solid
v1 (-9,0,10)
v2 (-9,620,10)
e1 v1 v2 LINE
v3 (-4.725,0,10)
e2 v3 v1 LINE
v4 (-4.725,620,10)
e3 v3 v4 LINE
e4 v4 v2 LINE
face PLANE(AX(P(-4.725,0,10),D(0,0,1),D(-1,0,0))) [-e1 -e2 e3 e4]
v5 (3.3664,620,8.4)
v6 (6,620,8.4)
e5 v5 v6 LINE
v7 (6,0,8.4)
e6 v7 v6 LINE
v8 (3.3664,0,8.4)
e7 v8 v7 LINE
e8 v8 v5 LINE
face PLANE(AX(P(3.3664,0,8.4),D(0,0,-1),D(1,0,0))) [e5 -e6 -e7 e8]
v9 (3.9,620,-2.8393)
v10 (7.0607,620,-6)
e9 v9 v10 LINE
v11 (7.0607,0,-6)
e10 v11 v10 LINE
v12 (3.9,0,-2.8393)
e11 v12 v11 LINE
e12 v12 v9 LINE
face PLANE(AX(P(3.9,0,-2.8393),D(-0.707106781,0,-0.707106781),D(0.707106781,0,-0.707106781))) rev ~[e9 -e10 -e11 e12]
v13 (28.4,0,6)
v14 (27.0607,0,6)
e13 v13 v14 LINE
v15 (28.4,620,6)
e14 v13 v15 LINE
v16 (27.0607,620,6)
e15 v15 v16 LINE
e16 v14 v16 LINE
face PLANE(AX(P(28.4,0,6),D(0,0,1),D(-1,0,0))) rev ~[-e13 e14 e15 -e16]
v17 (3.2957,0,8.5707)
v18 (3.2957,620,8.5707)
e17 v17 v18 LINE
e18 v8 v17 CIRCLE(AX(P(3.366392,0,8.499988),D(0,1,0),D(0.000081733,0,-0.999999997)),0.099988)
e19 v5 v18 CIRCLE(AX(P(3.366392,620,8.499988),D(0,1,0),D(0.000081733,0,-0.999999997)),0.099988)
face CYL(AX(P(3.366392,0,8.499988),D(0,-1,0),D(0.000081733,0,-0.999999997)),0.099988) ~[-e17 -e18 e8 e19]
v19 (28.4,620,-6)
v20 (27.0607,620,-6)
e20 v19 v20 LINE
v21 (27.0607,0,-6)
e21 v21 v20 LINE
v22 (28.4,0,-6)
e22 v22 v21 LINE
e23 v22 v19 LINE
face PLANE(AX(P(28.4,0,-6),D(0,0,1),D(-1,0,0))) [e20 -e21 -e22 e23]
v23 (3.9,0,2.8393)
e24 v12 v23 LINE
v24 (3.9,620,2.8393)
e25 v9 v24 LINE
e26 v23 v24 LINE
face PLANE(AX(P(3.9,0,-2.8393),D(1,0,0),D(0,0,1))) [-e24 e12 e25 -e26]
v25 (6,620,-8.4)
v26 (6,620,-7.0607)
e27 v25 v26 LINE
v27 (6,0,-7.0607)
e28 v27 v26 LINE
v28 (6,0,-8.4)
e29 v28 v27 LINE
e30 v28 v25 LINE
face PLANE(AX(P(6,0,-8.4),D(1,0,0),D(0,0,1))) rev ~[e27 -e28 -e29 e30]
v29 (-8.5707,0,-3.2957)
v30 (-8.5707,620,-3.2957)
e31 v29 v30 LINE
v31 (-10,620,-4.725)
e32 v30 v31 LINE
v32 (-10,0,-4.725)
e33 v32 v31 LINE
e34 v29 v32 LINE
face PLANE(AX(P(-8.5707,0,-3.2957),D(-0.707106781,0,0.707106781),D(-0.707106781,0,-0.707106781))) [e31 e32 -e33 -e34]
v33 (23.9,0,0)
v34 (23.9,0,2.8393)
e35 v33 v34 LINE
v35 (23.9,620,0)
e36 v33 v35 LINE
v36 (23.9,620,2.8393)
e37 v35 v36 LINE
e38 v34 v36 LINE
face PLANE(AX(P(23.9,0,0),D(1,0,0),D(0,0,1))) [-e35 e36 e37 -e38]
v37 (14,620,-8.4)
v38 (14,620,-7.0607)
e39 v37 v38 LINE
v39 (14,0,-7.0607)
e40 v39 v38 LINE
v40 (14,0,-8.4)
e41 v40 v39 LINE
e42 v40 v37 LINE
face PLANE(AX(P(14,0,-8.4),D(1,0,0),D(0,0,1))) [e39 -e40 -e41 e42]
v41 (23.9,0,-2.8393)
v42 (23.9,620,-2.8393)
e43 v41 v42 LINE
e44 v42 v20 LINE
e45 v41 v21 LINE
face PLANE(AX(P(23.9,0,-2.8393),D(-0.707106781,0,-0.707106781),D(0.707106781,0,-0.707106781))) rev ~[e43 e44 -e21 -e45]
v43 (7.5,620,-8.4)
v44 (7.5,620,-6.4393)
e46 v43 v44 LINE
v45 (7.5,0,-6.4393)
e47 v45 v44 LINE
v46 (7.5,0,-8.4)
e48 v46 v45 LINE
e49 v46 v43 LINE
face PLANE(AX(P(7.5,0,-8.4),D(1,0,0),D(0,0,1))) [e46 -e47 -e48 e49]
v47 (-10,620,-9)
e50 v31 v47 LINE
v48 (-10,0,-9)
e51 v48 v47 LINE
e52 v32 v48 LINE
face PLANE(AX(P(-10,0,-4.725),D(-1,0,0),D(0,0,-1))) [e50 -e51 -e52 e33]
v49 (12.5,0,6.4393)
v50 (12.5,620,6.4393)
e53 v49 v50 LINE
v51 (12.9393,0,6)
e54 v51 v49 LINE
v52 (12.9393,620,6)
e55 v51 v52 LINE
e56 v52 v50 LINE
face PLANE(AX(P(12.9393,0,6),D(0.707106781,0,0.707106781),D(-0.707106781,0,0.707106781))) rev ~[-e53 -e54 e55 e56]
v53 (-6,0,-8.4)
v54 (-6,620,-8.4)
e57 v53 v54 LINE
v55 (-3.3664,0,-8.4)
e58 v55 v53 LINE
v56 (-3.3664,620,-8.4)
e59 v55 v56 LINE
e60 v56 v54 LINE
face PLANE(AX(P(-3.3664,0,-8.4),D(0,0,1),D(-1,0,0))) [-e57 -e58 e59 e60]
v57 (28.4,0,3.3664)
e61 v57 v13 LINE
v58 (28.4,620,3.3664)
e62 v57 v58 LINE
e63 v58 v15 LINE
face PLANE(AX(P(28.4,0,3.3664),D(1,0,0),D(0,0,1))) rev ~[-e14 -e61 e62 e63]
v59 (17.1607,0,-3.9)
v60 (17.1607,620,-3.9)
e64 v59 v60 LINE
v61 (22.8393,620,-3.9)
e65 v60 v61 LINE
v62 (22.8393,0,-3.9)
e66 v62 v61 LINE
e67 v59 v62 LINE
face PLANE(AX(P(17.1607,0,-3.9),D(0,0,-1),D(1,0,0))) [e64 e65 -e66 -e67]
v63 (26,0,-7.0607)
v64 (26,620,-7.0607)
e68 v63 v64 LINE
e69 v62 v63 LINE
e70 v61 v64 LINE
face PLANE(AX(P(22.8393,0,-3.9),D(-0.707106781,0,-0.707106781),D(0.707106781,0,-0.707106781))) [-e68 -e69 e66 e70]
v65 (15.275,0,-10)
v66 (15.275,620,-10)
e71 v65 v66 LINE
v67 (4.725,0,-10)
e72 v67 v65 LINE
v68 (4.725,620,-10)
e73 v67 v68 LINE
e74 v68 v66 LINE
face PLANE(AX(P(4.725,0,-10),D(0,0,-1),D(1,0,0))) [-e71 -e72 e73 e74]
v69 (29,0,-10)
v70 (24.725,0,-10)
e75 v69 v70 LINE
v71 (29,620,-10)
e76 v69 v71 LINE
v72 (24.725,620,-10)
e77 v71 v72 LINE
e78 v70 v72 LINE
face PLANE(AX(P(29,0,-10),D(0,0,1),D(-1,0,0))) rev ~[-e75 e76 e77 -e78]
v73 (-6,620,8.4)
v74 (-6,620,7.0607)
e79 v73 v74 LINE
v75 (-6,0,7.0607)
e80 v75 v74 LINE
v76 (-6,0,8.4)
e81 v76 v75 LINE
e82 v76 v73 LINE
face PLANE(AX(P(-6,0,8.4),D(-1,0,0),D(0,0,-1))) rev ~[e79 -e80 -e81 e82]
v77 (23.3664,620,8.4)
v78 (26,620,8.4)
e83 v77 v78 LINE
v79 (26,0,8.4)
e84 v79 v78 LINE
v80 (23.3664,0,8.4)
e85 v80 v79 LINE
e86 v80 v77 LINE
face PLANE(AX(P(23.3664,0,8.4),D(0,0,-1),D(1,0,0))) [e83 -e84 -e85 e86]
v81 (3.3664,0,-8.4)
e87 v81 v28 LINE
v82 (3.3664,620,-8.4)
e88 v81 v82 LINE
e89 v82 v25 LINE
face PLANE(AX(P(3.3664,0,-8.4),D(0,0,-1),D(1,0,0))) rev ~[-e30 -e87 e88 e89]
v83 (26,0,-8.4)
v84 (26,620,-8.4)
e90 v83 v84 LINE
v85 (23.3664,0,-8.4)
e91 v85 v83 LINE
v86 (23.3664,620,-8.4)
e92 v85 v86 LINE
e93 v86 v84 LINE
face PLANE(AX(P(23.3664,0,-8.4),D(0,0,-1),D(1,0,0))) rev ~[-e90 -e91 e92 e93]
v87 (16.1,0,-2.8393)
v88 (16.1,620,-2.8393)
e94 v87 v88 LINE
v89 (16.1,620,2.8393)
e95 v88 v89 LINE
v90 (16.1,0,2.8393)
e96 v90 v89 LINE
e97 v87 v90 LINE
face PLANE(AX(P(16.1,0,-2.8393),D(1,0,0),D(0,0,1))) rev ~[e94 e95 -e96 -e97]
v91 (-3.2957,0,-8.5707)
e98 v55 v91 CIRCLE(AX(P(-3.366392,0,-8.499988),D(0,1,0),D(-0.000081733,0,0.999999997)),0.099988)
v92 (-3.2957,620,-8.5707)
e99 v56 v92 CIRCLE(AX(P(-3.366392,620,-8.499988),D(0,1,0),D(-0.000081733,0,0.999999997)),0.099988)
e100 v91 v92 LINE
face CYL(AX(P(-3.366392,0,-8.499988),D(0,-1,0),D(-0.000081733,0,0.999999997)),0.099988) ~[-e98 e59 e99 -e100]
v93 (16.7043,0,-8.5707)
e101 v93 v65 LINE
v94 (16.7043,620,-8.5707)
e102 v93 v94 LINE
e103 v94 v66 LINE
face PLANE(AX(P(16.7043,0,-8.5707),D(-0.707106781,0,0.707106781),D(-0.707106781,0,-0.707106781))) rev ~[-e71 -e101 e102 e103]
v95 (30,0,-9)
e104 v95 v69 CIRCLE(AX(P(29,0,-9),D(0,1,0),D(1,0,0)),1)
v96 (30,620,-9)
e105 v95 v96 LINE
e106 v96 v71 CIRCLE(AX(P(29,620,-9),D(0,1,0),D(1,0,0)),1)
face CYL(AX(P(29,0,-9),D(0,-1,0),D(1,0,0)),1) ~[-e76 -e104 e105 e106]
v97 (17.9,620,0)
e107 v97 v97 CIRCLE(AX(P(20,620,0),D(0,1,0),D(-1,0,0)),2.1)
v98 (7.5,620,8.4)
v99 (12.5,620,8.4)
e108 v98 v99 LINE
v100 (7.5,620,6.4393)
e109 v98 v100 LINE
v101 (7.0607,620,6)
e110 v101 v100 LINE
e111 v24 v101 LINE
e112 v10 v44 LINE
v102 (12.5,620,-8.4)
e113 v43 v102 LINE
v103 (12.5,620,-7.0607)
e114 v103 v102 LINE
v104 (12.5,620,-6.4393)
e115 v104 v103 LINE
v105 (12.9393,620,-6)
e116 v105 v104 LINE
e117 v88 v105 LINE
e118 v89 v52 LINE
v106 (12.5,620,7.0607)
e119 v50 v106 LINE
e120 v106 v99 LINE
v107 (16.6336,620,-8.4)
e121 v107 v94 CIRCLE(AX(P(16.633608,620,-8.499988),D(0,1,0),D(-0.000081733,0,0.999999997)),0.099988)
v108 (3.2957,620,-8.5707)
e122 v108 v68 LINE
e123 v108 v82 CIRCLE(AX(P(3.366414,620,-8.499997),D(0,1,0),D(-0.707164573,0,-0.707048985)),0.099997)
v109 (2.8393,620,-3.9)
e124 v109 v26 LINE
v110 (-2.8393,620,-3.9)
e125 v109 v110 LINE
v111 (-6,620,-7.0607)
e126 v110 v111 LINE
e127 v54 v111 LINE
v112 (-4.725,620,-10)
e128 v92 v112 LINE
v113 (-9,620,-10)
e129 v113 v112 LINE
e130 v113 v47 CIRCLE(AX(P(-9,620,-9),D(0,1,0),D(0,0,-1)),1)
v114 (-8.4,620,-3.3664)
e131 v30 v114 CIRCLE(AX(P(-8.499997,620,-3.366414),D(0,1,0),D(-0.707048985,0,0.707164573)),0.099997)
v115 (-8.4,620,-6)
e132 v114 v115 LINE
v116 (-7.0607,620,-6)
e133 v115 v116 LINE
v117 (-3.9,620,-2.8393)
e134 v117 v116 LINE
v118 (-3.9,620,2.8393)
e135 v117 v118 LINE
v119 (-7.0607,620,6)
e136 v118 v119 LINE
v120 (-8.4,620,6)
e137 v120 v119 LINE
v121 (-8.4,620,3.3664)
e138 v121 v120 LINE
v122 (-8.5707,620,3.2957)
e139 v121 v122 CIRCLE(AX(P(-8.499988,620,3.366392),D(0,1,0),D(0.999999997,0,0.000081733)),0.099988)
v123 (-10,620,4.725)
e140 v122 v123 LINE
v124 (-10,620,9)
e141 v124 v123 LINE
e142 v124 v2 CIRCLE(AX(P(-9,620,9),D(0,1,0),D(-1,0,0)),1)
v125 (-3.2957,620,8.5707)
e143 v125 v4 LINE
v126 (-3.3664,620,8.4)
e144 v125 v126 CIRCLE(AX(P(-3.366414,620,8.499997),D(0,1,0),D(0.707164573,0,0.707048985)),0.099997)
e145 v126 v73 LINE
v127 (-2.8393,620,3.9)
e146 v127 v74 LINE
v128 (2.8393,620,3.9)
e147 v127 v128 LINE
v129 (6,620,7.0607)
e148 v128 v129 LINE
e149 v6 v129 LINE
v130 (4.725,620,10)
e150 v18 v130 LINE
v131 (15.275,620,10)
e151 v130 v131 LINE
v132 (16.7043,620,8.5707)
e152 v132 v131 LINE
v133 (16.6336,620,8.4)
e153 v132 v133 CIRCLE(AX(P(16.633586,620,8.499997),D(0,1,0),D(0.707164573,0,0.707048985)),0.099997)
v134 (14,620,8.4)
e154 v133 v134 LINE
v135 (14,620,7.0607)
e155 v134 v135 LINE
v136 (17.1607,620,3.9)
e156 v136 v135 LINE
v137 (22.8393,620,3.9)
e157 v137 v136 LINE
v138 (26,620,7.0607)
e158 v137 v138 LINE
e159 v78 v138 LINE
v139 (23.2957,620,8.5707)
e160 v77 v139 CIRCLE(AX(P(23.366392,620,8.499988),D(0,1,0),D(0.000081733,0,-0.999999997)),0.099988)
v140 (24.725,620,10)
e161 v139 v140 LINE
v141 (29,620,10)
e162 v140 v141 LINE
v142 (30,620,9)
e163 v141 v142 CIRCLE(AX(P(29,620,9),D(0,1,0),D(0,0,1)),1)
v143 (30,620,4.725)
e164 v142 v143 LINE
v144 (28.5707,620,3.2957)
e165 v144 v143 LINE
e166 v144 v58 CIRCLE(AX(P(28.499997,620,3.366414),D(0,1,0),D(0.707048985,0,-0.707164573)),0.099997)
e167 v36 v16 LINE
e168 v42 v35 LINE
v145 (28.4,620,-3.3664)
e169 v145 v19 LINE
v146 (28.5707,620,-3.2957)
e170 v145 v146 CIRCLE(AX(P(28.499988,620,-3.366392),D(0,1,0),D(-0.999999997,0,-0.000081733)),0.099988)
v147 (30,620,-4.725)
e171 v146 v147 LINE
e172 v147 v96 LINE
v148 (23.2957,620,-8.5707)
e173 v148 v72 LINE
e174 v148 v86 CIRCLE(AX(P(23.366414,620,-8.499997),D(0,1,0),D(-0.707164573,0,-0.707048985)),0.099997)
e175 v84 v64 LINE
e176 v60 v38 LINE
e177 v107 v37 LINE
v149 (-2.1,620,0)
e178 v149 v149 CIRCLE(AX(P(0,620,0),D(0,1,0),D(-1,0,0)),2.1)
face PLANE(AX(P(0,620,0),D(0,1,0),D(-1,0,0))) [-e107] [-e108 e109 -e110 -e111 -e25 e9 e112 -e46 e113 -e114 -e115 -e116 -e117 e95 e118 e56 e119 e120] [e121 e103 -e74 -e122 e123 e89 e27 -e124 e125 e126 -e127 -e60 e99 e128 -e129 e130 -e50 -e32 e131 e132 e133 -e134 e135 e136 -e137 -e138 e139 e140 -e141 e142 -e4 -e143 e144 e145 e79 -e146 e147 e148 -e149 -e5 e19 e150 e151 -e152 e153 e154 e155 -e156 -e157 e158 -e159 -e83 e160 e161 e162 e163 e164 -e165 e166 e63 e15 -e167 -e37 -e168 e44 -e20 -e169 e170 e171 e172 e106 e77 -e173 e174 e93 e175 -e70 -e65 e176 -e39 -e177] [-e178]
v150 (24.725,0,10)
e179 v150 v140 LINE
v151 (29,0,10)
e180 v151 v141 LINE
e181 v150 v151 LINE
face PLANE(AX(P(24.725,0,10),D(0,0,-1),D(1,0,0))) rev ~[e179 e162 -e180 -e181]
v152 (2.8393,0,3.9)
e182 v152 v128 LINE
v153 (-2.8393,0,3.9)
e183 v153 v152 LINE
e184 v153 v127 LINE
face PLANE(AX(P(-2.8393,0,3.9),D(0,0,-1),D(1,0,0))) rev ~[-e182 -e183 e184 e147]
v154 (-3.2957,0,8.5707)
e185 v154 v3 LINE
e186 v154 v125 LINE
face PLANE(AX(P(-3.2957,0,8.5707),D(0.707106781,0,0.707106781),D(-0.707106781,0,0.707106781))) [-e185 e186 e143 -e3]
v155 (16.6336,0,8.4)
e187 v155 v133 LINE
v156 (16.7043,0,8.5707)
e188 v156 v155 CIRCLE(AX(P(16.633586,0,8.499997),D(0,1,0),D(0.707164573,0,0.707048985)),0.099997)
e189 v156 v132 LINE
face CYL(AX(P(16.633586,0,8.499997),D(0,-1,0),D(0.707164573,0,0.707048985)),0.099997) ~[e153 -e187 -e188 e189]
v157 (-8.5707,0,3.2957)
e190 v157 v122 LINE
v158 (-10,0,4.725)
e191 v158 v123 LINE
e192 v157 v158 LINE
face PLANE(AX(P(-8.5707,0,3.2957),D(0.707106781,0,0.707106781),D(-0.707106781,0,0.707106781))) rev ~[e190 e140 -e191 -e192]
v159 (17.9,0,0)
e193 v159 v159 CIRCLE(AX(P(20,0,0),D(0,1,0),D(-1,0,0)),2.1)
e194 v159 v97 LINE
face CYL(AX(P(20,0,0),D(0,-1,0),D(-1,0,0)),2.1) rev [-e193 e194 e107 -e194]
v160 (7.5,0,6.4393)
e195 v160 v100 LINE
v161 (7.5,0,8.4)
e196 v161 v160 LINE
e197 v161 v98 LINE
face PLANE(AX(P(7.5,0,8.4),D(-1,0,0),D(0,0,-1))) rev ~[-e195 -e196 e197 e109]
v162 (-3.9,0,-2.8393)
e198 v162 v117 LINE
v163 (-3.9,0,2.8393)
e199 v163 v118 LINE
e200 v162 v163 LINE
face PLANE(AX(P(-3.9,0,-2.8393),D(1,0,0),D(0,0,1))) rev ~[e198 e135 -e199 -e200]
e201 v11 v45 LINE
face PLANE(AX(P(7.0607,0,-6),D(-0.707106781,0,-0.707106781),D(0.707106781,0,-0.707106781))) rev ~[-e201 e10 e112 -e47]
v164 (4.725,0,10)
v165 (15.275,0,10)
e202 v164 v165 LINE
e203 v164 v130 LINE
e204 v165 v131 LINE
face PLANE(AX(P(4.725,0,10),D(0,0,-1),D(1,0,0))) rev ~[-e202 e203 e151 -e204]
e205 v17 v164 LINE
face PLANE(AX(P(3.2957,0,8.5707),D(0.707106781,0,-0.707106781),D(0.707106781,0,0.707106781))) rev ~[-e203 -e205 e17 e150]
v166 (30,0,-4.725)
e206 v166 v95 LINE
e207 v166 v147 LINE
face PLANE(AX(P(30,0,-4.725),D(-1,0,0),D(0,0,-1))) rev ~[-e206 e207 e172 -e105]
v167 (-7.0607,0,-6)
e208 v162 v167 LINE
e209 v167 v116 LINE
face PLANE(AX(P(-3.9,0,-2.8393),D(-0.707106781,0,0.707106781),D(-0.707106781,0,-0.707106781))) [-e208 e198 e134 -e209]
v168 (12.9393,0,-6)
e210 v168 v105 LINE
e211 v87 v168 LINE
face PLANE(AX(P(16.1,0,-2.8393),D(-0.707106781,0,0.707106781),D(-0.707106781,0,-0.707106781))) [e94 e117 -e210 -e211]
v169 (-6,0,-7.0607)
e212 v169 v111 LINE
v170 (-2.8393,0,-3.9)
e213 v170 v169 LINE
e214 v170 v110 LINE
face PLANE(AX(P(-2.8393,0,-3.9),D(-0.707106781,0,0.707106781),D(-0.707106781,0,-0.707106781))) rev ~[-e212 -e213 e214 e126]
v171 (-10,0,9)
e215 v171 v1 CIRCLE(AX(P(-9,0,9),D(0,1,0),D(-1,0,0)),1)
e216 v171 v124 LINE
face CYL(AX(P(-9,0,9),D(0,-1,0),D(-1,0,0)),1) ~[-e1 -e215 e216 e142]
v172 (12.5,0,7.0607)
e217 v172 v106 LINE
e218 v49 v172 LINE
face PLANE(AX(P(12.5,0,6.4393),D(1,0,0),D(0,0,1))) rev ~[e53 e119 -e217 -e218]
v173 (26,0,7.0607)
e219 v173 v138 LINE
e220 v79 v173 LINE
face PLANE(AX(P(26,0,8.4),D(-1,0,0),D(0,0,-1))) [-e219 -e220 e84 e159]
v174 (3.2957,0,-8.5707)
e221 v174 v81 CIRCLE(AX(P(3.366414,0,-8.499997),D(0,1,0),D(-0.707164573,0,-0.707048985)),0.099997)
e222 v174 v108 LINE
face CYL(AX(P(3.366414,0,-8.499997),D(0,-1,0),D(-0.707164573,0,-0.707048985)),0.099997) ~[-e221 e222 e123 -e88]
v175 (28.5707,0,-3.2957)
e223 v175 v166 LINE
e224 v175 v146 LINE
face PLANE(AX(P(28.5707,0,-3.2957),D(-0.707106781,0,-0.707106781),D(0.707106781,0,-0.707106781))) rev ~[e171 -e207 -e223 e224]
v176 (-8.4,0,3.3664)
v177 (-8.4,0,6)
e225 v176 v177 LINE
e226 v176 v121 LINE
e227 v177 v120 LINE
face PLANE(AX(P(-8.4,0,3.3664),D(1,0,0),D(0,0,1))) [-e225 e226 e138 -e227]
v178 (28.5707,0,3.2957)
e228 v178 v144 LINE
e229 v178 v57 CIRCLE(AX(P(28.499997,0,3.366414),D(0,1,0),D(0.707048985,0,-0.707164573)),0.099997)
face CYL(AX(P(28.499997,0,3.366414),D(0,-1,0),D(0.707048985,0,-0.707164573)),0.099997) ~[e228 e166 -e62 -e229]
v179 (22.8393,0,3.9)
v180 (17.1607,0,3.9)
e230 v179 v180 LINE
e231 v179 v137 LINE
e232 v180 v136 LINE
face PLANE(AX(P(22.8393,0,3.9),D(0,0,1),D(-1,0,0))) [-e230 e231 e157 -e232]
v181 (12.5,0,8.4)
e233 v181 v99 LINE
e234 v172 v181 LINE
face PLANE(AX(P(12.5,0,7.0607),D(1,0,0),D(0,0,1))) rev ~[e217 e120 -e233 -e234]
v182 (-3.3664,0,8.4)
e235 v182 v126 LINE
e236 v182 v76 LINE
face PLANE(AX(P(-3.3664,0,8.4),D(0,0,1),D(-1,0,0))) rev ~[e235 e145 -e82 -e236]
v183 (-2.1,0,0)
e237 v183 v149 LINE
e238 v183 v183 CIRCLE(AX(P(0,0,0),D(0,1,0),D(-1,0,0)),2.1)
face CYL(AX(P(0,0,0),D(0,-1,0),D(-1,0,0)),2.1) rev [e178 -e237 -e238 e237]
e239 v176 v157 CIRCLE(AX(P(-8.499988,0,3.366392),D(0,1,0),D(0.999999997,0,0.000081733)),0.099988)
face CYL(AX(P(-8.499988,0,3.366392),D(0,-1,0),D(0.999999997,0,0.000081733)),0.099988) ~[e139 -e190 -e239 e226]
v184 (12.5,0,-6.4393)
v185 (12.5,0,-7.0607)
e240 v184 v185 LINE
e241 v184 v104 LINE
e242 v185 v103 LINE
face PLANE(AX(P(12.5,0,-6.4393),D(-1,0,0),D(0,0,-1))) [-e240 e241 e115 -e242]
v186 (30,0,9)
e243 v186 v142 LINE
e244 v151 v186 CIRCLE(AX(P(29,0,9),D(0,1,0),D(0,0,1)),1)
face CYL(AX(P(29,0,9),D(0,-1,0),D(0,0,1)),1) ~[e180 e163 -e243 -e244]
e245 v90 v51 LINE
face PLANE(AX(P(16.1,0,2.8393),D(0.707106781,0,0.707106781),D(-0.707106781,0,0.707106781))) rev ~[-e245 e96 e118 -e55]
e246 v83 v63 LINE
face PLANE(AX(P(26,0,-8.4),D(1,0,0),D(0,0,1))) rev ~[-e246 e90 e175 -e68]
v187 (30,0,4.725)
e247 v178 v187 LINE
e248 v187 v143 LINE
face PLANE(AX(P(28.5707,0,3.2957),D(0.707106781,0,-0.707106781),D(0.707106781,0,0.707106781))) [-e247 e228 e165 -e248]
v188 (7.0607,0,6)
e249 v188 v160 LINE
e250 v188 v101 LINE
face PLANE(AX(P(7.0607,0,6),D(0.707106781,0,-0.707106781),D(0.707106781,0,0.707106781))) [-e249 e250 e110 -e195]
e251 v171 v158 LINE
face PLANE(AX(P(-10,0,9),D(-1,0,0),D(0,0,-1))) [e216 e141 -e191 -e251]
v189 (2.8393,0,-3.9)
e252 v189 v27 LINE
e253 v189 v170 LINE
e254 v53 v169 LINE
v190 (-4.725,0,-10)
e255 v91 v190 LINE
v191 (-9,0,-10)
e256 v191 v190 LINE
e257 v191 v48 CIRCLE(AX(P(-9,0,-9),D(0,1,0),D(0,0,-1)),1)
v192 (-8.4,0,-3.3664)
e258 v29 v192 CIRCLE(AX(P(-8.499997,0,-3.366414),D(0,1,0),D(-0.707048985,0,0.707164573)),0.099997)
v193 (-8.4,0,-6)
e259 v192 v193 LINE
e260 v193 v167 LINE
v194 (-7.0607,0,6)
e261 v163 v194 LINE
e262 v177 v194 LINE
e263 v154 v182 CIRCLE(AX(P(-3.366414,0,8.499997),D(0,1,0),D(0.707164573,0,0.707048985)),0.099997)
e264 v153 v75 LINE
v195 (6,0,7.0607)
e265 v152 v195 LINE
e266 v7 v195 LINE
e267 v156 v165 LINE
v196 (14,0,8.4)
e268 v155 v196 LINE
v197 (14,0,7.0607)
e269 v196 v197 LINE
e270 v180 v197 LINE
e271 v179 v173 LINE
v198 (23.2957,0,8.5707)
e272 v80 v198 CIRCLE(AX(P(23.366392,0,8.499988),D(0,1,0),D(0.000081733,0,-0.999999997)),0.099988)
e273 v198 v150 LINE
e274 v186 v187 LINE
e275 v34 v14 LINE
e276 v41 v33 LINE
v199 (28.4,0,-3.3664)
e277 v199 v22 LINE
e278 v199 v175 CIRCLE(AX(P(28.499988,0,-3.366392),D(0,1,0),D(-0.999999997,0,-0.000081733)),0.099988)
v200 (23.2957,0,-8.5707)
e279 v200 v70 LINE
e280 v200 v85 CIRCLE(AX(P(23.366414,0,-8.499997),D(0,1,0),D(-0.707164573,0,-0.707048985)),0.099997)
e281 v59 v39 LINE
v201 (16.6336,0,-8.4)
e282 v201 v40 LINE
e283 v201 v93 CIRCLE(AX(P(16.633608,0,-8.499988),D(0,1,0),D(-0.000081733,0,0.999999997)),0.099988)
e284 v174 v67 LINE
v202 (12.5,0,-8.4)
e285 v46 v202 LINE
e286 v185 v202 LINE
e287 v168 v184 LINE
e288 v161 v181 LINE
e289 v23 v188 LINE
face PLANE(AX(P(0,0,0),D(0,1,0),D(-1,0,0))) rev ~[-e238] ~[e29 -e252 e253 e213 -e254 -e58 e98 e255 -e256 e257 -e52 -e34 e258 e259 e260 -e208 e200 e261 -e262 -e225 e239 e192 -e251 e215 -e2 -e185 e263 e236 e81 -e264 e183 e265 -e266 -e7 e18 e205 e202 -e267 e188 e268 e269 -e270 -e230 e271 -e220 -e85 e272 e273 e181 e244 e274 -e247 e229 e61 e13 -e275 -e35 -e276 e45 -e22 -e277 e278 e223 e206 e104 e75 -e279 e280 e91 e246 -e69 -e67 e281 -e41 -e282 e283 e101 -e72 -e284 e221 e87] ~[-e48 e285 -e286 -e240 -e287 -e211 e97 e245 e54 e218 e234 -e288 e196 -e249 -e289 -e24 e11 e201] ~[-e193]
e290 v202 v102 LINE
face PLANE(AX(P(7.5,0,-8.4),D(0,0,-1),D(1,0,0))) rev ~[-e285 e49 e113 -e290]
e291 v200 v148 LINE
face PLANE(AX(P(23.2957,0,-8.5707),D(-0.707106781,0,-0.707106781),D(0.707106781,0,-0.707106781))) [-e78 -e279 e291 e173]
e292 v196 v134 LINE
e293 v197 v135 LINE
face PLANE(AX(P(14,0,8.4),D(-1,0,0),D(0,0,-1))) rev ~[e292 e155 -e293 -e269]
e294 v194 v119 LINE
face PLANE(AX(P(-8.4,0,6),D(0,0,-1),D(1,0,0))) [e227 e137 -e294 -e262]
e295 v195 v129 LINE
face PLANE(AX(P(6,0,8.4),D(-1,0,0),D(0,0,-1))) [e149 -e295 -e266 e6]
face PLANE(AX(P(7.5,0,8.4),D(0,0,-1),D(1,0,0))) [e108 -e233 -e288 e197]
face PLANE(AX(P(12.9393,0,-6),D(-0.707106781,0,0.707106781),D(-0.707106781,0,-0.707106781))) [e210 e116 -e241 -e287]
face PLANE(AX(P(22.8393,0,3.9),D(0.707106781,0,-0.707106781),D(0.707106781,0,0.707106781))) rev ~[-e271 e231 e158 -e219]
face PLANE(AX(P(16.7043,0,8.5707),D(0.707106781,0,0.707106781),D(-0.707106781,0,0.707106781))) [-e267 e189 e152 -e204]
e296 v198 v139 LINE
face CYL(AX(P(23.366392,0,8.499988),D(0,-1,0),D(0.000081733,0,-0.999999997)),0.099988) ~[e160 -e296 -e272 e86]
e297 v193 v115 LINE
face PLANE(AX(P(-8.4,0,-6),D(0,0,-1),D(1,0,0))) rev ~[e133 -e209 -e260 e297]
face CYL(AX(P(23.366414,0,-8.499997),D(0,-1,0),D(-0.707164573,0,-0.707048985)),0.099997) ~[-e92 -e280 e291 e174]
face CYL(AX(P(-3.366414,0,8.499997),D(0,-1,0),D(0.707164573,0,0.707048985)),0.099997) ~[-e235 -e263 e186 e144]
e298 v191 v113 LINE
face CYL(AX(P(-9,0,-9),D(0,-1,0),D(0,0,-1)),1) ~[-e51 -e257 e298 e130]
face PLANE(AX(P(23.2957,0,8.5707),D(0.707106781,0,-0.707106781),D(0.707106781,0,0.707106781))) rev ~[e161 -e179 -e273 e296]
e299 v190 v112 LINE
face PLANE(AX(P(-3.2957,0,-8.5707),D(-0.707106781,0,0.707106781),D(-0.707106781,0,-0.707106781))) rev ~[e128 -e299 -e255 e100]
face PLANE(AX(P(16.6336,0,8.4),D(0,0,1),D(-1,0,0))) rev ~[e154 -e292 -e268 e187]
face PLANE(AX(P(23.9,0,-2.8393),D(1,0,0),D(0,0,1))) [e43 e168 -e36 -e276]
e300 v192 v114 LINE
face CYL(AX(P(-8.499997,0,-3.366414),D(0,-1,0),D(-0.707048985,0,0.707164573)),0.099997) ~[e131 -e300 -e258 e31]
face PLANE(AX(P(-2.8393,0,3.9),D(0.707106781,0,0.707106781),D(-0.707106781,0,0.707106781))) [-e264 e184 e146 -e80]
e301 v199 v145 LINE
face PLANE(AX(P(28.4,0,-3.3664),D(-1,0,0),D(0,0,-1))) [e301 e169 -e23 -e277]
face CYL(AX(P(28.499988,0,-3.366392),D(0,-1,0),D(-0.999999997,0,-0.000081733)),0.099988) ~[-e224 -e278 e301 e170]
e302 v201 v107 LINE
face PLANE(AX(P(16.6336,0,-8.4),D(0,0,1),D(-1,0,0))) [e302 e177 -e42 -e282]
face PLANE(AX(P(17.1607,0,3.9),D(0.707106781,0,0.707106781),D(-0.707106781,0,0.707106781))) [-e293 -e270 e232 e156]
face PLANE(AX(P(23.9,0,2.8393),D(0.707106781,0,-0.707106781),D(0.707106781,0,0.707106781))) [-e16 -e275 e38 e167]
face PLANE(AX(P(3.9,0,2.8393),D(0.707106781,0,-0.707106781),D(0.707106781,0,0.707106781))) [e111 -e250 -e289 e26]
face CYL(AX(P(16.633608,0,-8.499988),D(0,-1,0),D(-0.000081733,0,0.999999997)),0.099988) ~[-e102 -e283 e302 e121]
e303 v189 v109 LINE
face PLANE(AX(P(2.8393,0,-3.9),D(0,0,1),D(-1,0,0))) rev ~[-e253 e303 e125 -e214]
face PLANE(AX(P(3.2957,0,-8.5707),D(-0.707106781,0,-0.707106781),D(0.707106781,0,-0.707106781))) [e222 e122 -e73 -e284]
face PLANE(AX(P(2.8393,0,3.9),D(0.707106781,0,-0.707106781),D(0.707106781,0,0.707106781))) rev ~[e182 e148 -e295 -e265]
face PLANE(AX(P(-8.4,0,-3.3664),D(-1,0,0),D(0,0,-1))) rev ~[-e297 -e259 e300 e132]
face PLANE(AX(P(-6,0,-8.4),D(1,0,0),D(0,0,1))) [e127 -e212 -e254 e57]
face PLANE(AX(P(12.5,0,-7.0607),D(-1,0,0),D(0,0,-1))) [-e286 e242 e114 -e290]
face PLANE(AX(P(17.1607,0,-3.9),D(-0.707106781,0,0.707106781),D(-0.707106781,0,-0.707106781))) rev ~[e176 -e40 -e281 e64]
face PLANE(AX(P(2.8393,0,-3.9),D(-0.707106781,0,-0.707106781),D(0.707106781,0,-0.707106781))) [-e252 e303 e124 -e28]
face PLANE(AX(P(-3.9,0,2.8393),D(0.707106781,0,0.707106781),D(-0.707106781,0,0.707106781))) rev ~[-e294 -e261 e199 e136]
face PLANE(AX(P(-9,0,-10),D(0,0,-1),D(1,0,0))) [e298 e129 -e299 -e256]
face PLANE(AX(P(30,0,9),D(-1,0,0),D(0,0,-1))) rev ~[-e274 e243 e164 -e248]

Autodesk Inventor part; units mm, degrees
ref_plane "YZ Plane" through (0, 0, 0) normal (1, 0, 0) x (0, 1, 0)
ref_plane "XZ Plane" through (0, 0, 0) normal (0, 1, 0) x (-1, 0, 0)
ref_plane "XY Plane" through (0, 0, 0) normal (0, 0, 1) x (1, 0, 0)
sketch "Sketch1" plane through (0, 0, 0) normal (0, 1, 0) x (-1, 0, 0)
  line L0 (3.9, -2.8393) -> (3.9, 2.8393)
  line L1 (2.8393, 3.9) -> (-2.8393, 3.9)
  line L2 (-2.8393, -3.9) -> (2.8393, -3.9)
  line L3 (8.5707, 3.2957) -> (10, 4.725)
  line L4 (8.5707, -3.2957) -> (10, -4.725)
  line L5 (8.4, 3.3664) -> (8.4, 6)
  line L6 (8.4, 6) -> (7.0607, 6)
  line L7 (10, 9) -> (10, 4.725)
  line L8 (10, -4.725) -> (10, -9)
  line L9 (3.9, 2.8393) -> (7.0607, 6)
  line L10 (3.2957, 8.5707) -> (4.725, 10)
  line L11 (3.3664, 8.4) -> (6, 8.4)
  line L12 (6, 8.4) -> (6, 7.0607)
  line L13 (2.8393, 3.9) -> (6, 7.0607)
  line L14 (8.4, -3.3664) -> (8.4, -6)
  line L15 (8.4, -6) -> (7.0607, -6)
  line L16 (3.9, -2.8393) -> (7.0607, -6)
  line L17 (3.2957, -8.5707) -> (4.725, -10)
  line L18 (3.3664, -8.4) -> (6, -8.4)
  line L19 (6, -8.4) -> (6, -7.0607)
  line L20 (2.8393, -3.9) -> (6, -7.0607)
  line L21 (-3.9, -2.8393) -> (-3.9, 2.8393)
  line L22 (-3.9, 2.8393) -> (-7.0607, 6)
  line L23 (-6, 8.4) -> (-6, 7.0607)
  line L24 (-2.8393, 3.9) -> (-6, 7.0607)
  line L25 (-3.9, -2.8393) -> (-7.0607, -6)
  line L26 (-2.8393, -3.9) -> (-6, -7.0607)
  line L27 (-6, -8.4) -> (-6, -7.0607)
  line L28 (-3.3664, -8.4) -> (-6, -8.4)
  line L29 (-3.2957, -8.5707) -> (-4.725, -10)
  line L30 (4.725, 10) -> (9, 10)
  line L31 (9, -10) -> (4.725, -10)
  circle A0 centre (0, 0) radius 2.1
  arc A1 (10, 9) -> (9, 10) centre (9, 9) ccw
  arc A2 (9, -10) -> (10, -9) centre (9, -9) ccw
  arc A3 (8.4, 3.3664) -> (8.5707, 3.2957) centre (8.5, 3.3664) ccw
  arc A4 (3.2957, 8.5707) -> (3.3664, 8.4) centre (3.3664, 8.5) ccw
  arc A5 (8.5707, -3.2957) -> (8.4, -3.3664) centre (8.5, -3.3664) ccw
  arc A6 (3.3664, -8.4) -> (3.2957, -8.5707) centre (3.3664, -8.5) ccw
  arc A7 (-3.2957, -8.5707) -> (-3.3664, -8.4) centre (-3.3664, -8.5) ccw
  line L32 (-23.9, -2.8393) -> (-23.9, 2.8393)
  line L33 (-22.8393, 3.9) -> (-17.1607, 3.9)
  line L34 (-17.1607, -3.9) -> (-22.8393, -3.9)
  line L35 (-28.5707, 3.2957) -> (-30, 4.725)
  line L36 (-28.5707, -3.2957) -> (-30, -4.725)
  line L37 (-28.4, 3.3664) -> (-28.4, 6)
  line L38 (-28.4, 6) -> (-27.0607, 6)
  line L39 (-30, 9) -> (-30, 4.725)
  line L40 (-30, -4.725) -> (-30, -9)
  line L41 (-23.9, 2.8393) -> (-27.0607, 6)
  line L42 (-23.2957, 8.5707) -> (-24.725, 10)
  line L43 (-23.3664, 8.4) -> (-26, 8.4)
  line L44 (-26, 8.4) -> (-26, 7.0607)
  line L45 (-22.8393, 3.9) -> (-26, 7.0607)
  line L46 (-23.9, 0) -> (-28.4, 0)
  line L47 (-23.9, -2.8393) -> (-27.0607, -6)
  line L48 (-28.4, -6) -> (-27.0607, -6)
  line L49 (-28.4, -3.3664) -> (-28.4, -6)
  line L50 (-22.8393, -3.9) -> (-26, -7.0607)
  line L51 (-26, -8.4) -> (-26, -7.0607)
  line L52 (-23.3664, -8.4) -> (-26, -8.4)
  line L53 (-23.2957, -8.5707) -> (-24.725, -10)
  line L54 (-16.1, -2.8393) -> (-12.9393, -6)
  line L55 (-17.1607, -3.9) -> (-14, -7.0607)
  line L56 (-16.6336, -8.4) -> (-14, -8.4)
  line L57 (-16.1, -2.8393) -> (-16.1, 2.8393)
  line L58 (-16.1, 2.8393) -> (-12.9393, 6)
  line L59 (-17.1607, 3.9) -> (-14, 7.0607)
  line L60 (-14, 8.4) -> (-14, 7.0607)
  line L61 (-14, -8.4) -> (-14, -7.0607)
  line L62 (-16.7043, -8.5707) -> (-15.275, -10)
  line L63 (-24.725, 10) -> (-29, 10)
  line L64 (-29, -10) -> (-24.725, -10)
  circle A8 centre (-20, 0) radius 2.1
  arc A9 (-29, 10) -> (-30, 9) centre (-29, 9) ccw
  arc A10 (-30, -9) -> (-29, -10) centre (-29, -9) ccw
  arc A11 (-28.5707, 3.2957) -> (-28.4, 3.3664) centre (-28.5, 3.3664) ccw
  arc A12 (-23.3664, 8.4) -> (-23.2957, 8.5707) centre (-23.3664, 8.5) ccw
  arc A13 (-28.4, -3.3664) -> (-28.5707, -3.2957) centre (-28.5, -3.3664) ccw
  arc A14 (-23.2957, -8.5707) -> (-23.3664, -8.4) centre (-23.3664, -8.5) ccw
  arc A15 (-16.6336, -8.4) -> (-16.7043, -8.5707) centre (-16.6336, -8.5) ccw
  arc A16 (-16.7043, 8.5707) -> (-16.6336, 8.4) centre (-16.6336, 8.5) ccw
  line L65 (-7.5, -8.4) -> (-7.5, -6.4393)
  line L66 (-7.0607, -6) -> (-7.5, -6.4393)
  line L67 (-12.5, -7.0607) -> (-12.5, -8.4)
  line L68 (-12.9393, -6) -> (-12.5, -6.4393)
  line L69 (-12.5, -6.4393) -> (-12.5, -7.0607)
  line L70 (-7.5, -8.4) -> (-12.5, -8.4)
  line L71 (-4.725, -10) -> (-15.275, -10)
  line L72 (-3.9, 2.8393) -> (-7.0607, 6)
  line L73 (-2.8393, 3.9) -> (-6, 7.0607)
  line L74 (-3.3664, 8.4) -> (-6, 8.4)
  line L75 (-6, 8.4) -> (-6, 7.0607)
  line L76 (-3.2957, 8.5707) -> (-4.725, 10)
  arc A17 (-3.3664, 8.4) -> (-3.2957, 8.5707) centre (-3.3664, 8.5) ccw
  line L77 (-16.1, 2.8393) -> (-12.9393, 6)
  line L78 (-17.1607, 3.9) -> (-14, 7.0607)
  line L79 (-16.6336, 8.4) -> (-14, 8.4)
  line L80 (-14, 8.4) -> (-14, 7.0607)
  line L81 (-16.7043, 8.5707) -> (-15.275, 10)
  arc A18 (-16.7043, 8.5707) -> (-16.6336, 8.4) centre (-16.6336, 8.5) ccw
  line L82 (-7.5, 8.4) -> (-7.5, 6.4393)
  line L83 (-7.0607, 6) -> (-7.5, 6.4393)
  line L84 (-12.5, 7.0607) -> (-12.5, 8.4)
  line L85 (-12.9393, 6) -> (-12.5, 6.4393)
  line L86 (-12.5, 6.4393) -> (-12.5, 7.0607)
  line L87 (-7.5, 8.4) -> (-12.5, 8.4)
  line L88 (-4.725, 10) -> (-15.275, 10)
extrude "Extrusion1" add sketch "Sketch1" along normal blind 620
properties part number "VSLOT20x40x620"
